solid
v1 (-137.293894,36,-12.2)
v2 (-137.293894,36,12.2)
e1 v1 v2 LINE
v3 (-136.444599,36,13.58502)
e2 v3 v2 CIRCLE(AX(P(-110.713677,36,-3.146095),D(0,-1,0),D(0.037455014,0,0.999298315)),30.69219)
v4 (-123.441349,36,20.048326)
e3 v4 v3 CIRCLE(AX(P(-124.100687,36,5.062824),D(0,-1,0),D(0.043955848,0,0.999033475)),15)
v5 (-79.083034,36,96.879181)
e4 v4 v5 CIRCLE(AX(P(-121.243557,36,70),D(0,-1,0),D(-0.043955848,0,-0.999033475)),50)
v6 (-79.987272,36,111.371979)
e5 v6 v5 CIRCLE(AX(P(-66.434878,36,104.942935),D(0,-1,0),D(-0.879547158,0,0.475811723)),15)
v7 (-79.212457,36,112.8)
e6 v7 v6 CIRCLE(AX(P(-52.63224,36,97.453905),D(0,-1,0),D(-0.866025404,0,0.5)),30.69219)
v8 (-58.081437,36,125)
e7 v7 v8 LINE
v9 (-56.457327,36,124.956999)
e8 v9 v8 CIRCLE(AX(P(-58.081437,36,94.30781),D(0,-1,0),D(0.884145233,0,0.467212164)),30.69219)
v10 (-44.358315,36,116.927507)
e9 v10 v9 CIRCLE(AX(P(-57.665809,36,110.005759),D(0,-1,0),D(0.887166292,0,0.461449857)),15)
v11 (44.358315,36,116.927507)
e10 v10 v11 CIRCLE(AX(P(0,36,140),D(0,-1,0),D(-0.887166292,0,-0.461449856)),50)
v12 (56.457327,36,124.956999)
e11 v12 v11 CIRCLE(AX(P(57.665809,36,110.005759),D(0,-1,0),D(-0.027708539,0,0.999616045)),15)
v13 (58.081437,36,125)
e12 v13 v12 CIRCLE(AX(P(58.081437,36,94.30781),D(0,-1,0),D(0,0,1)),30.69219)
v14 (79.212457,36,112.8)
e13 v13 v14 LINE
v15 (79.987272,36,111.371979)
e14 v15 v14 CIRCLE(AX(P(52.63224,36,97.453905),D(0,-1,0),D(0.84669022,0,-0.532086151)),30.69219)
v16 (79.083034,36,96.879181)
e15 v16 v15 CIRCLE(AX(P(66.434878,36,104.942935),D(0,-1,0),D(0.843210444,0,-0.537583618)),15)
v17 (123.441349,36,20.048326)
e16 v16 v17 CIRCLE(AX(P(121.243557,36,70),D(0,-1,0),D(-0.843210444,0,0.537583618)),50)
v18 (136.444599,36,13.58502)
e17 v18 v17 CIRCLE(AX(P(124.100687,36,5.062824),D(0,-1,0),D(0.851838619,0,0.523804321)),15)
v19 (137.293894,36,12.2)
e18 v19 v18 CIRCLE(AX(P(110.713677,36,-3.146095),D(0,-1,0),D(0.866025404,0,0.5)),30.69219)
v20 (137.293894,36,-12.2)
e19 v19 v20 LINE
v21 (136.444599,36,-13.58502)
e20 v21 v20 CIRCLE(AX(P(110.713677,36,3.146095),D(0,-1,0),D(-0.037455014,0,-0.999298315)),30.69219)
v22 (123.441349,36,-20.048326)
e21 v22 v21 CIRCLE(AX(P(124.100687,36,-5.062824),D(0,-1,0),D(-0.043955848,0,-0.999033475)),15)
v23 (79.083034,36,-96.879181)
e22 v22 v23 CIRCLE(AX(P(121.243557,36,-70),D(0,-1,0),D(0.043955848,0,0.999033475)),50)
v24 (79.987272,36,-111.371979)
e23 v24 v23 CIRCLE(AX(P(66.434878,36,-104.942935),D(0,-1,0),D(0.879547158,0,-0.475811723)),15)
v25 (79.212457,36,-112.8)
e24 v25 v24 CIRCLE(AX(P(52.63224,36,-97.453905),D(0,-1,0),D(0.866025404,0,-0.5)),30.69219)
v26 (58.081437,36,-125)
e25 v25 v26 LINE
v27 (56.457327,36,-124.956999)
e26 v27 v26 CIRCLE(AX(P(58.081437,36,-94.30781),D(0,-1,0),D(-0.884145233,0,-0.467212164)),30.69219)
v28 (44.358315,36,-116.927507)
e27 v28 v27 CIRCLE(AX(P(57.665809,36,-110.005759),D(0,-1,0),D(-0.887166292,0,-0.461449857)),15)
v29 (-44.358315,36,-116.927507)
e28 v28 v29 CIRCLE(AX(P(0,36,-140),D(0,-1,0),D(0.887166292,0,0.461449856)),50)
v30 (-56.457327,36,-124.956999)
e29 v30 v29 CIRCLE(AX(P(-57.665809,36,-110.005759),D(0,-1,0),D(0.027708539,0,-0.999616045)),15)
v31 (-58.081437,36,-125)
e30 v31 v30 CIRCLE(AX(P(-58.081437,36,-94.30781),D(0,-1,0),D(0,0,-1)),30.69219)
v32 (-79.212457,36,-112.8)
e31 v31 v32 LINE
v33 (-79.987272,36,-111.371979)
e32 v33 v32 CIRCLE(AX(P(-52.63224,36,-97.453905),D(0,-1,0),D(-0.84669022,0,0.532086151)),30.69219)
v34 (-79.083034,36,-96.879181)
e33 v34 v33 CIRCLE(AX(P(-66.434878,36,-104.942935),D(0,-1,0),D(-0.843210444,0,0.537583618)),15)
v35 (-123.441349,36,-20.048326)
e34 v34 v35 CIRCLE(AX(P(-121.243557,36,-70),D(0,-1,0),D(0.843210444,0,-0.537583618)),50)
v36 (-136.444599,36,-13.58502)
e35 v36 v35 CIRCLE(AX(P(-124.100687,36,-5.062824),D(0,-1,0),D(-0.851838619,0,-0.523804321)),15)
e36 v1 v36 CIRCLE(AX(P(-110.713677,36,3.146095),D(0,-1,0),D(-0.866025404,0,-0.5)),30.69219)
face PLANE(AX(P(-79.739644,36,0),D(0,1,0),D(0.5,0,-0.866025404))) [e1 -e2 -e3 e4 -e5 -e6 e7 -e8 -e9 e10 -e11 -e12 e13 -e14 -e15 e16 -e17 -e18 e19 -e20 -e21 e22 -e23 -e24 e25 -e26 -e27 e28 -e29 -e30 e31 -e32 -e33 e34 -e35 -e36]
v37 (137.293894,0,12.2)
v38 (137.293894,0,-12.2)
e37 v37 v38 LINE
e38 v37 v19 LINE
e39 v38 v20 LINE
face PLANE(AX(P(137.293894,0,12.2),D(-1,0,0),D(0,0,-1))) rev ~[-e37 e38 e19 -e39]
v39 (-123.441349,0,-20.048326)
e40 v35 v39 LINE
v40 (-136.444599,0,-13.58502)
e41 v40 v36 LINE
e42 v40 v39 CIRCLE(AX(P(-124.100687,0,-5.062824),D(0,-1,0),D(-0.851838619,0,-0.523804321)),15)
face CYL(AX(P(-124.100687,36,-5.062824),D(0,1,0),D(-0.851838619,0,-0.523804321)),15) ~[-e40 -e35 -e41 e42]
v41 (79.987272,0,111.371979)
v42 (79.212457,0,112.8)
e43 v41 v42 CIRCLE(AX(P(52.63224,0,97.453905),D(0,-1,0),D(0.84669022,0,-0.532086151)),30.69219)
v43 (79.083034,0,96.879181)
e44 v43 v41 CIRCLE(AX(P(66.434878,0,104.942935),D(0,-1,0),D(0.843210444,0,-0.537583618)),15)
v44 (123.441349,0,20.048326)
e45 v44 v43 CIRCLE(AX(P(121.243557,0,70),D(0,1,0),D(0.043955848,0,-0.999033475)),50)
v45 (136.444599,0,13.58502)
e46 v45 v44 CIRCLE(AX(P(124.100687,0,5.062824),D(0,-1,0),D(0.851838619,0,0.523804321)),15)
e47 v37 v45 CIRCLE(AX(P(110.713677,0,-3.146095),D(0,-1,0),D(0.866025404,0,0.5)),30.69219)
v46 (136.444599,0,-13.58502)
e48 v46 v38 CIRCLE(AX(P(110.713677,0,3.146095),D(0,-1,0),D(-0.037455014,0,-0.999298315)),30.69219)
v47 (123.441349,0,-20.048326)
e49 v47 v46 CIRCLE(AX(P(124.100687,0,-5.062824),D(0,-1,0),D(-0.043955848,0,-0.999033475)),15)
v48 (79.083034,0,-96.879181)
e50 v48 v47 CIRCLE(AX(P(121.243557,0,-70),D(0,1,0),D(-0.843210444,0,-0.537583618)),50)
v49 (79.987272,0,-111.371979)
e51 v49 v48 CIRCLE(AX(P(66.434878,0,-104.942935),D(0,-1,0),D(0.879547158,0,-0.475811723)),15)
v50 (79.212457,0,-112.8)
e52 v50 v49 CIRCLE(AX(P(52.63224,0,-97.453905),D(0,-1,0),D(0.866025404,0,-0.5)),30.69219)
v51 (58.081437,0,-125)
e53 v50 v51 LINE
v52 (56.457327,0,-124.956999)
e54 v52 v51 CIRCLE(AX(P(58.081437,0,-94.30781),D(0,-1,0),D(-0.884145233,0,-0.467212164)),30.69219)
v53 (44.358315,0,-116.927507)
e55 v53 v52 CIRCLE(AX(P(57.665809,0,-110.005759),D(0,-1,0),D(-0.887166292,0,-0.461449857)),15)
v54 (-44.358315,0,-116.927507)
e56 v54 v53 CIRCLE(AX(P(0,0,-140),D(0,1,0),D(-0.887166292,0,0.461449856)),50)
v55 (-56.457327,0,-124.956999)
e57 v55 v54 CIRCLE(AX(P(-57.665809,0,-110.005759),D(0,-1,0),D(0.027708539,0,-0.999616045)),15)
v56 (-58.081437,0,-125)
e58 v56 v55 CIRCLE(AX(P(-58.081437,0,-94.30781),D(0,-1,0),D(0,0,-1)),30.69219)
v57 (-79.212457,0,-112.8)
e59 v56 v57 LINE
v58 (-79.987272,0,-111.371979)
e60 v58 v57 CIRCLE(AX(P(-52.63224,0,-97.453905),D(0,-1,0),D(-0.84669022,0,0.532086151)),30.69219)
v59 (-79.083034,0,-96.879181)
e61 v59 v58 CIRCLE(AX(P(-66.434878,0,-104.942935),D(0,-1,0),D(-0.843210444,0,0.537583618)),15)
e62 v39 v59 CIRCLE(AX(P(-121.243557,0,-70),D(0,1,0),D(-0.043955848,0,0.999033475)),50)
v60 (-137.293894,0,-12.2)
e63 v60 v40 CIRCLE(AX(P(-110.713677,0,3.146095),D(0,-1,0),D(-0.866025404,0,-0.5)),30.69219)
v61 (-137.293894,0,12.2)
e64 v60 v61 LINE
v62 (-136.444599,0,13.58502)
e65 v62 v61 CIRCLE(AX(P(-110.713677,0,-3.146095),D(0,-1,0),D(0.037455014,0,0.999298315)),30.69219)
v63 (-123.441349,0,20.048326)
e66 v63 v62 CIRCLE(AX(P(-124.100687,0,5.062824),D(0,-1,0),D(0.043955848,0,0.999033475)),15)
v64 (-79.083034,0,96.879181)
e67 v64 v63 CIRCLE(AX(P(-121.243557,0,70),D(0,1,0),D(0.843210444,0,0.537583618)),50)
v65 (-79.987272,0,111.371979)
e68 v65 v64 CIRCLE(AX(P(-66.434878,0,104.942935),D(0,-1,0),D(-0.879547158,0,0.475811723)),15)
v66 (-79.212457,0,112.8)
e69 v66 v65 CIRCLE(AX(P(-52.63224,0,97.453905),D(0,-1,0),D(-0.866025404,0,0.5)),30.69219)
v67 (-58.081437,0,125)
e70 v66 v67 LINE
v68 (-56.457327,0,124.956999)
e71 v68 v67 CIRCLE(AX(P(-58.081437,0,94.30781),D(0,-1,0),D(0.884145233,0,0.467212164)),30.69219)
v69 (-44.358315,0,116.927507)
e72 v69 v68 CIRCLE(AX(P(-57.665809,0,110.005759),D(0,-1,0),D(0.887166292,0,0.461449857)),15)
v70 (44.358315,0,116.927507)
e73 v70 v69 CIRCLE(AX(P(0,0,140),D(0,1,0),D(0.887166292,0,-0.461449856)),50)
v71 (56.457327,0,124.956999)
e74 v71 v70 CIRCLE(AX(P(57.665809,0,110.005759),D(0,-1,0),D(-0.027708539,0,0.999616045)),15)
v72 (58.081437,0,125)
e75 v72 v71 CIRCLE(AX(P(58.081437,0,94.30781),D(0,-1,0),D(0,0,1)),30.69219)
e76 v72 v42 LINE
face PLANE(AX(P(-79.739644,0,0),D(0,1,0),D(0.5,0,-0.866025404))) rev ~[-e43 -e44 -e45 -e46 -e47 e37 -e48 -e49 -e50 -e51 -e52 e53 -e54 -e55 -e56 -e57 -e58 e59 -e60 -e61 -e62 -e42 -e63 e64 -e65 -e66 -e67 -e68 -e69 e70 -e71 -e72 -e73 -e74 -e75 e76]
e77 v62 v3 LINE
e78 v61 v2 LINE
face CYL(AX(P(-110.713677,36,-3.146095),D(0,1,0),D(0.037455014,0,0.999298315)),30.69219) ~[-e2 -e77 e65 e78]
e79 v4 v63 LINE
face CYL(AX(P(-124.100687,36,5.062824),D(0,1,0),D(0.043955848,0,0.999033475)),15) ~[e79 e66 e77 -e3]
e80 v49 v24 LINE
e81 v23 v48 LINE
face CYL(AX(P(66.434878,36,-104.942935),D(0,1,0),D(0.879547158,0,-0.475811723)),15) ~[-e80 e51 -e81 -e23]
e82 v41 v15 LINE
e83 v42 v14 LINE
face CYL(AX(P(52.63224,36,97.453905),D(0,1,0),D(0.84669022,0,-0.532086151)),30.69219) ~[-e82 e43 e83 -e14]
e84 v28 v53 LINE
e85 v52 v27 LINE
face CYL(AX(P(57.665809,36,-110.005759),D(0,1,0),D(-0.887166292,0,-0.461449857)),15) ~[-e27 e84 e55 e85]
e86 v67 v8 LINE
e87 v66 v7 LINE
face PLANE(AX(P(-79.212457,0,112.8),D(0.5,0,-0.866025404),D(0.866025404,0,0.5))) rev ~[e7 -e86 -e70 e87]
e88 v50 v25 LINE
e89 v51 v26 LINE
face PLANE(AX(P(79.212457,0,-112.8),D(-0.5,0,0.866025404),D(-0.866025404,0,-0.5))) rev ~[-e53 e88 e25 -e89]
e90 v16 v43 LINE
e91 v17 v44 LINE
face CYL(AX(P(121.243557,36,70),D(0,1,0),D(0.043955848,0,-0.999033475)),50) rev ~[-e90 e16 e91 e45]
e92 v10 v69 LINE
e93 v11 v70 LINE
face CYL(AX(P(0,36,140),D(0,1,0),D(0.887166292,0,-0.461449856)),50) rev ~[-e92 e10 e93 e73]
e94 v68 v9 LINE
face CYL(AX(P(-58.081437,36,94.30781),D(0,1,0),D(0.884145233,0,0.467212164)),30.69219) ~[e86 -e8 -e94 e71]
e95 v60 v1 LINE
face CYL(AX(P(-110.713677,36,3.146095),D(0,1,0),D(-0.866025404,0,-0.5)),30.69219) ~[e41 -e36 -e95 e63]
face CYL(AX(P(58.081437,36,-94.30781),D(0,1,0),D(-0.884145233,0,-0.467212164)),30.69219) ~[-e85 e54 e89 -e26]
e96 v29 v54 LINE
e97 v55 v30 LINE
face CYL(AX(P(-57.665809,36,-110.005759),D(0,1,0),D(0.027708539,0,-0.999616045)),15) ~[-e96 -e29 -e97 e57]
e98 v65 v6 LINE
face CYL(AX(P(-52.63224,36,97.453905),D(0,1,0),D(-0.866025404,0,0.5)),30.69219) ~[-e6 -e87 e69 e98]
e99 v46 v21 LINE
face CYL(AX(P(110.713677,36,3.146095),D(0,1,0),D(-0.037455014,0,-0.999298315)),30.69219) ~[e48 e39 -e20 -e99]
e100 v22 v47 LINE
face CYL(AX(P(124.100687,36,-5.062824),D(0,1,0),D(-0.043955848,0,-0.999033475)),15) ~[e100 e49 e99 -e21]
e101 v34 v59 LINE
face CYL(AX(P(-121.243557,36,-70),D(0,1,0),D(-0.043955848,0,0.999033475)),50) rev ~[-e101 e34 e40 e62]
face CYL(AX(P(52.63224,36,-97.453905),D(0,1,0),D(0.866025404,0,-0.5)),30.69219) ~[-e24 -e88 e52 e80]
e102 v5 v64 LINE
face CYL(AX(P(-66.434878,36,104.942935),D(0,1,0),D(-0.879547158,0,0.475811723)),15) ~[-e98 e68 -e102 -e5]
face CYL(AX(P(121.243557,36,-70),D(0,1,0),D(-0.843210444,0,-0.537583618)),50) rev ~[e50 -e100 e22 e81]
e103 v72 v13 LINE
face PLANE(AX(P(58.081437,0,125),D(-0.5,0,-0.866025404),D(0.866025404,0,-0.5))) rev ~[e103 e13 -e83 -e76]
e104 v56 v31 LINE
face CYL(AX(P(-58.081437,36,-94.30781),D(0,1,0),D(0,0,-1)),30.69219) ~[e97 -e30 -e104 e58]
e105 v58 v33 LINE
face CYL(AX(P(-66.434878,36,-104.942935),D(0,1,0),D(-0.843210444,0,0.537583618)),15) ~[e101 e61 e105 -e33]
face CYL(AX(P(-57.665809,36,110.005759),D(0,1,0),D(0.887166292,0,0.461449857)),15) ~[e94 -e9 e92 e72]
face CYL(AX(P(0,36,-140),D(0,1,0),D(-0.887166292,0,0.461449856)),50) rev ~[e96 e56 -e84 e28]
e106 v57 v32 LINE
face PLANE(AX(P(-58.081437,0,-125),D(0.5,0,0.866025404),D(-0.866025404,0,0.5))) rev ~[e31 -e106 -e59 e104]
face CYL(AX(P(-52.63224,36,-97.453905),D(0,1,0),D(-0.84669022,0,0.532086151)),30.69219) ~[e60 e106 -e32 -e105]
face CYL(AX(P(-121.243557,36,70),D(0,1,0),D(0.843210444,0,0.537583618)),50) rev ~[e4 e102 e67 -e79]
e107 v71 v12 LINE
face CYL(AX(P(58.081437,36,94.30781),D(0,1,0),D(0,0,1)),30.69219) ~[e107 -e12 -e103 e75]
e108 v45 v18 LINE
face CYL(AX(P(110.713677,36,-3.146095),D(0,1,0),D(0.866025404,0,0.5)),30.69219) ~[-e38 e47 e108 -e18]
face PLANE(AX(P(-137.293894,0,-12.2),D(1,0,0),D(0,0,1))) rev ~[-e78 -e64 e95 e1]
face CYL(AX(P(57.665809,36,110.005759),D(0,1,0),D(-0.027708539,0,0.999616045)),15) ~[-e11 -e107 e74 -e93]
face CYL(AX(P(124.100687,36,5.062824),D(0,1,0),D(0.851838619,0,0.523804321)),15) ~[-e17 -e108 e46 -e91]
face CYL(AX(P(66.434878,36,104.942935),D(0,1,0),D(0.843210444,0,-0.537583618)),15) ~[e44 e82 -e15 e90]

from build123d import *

# Parameters (mm, degrees)
BOSS_EXTRUDE1_DEPTH = 36
CIRPATTERN1_COUNT   = 6
CUT_EXTRUDE3_DEPTH  = 36
CUT_EXTRUDE9_DEPTH  = 36


with BuildPart() as part:
    # Sketch2 → Boss-Extrude1 (new body)
    with BuildSketch(Plane(origin=(0, 0, 0), x_dir=(1, 0, 0), z_dir=(0, 1, 0))):
        Polygon((0, 125), (-58.08143708, 125), (-79.212456933, 112.8), (-108.253175473, 62.5), (0, 0), align=None)
    boss_extrude1 = extrude(amount=BOSS_EXTRUDE1_DEPTH)

    # CirPattern1: Boss-Extrude1 ×6 about axis
    cirpattern1_axis = Axis((0, 36, 0), (0, -1, 0))
    for i in range(1, CIRPATTERN1_COUNT):
        add(boss_extrude1.rotate(cirpattern1_axis, i * 360 / CIRPATTERN1_COUNT))

    # Sketch4 → Cut-Extrude3 (cut)
    with BuildSketch(Plane(origin=(0, 36, 0), x_dir=(1, 0, 0), z_dir=(0, 1, 0))):
        with BuildLine():
            Line((79.212456933, -112.8), (137.293894013, -12.2))
            ThreePointArc((137.293894013, -12.2), (125.5592118, -23.716902798), (109.56410095, -27.524558982))
            ThreePointArc((109.56410095, -27.524558982), (77.942286341, -45), (78.619017782, -81.123015275))
            ThreePointArc((78.619017782, -81.123015275), (83.319046223, -96.879015699), (79.212456933, -112.8))
        make_face()
        with BuildLine():
            Line((137.293894013, 12.2), (79.212456933, 112.8))
            ThreePointArc((79.212456933, 112.8), (83.319046223, 96.879015699), (78.619017782, 81.123015275))
            ThreePointArc((78.619017782, 81.123015275), (77.942286341, 45), (109.56410095, 27.524558982))
            ThreePointArc((109.56410095, 27.524558982), (125.5592118, 23.716902798), (137.293894013, 12.2))
        make_face()
        with BuildLine():
            Line((58.08143708, 125), (-58.08143708, 125))
            ThreePointArc((-58.08143708, 125), (-42.240165578, 120.595918497), (-30.945083169, 108.647574257))
            ThreePointArc((-30.945083169, 108.647574257), (0, 90), (30.945083169, 108.647574257))
            ThreePointArc((30.945083169, 108.647574257), (42.240165578, 120.595918497), (58.08143708, 125))
        make_face()
        with BuildLine():
            Line((-79.212456933, 112.8), (-137.293894013, 12.2))
            ThreePointArc((-137.293894013, 12.2), (-125.5592118, 23.716902798), (-109.56410095, 27.524558982))
            ThreePointArc((-109.56410095, 27.524558982), (-77.942286341, 45), (-78.619017782, 81.123015275))
            ThreePointArc((-78.619017782, 81.123015275), (-83.319046223, 96.879015699), (-79.212456933, 112.8))
        make_face()
        with BuildLine():
            Line((-137.293894013, -12.2), (-79.212456933, -112.8))
            ThreePointArc((-79.212456933, -112.8), (-83.319046223, -96.879015699), (-78.619017782, -81.123015275))
            ThreePointArc((-78.619017782, -81.123015275), (-77.942286341, -45), (-109.56410095, -27.524558982))
            ThreePointArc((-109.56410095, -27.524558982), (-125.5592118, -23.716902798), (-137.293894013, -12.2))
        make_face()
        with BuildLine():
            Line((-58.08143708, -125), (58.08143708, -125))
            ThreePointArc((58.08143708, -125), (42.240165578, -120.595918497), (30.945083169, -108.647574257))
            ThreePointArc((30.945083169, -108.647574257), (0, -90), (-30.945083169, -108.647574257))
            ThreePointArc((-30.945083169, -108.647574257), (-42.240165578, -120.595918497), (-58.08143708, -125))
        make_face()
    extrude(amount=-CUT_EXTRUDE3_DEPTH, mode=Mode.SUBTRACT)

    # Sketch9 → Cut-Extrude9 (cut)
    with BuildSketch(Plane(origin=(0, 36, 0), x_dir=(1, 0, 0), z_dir=(0, 1, 0))):
        with BuildLine():
            Line((57.250180902, 125), (-57.250180902, 125))
            ThreePointArc((-57.250180902, 125), (-49.705136426, 122.71904735), (-44.358314608, 116.927507176))
            ThreePointArc((-44.358314608, 116.927507176), (0, 90), (44.358314608, 116.927507176))
            ThreePointArc((44.358314608, 116.927507176), (49.705136426, 122.71904735), (57.250180902, 125))
        make_face()
        with BuildLine():
            Line((136.878265924, 12.919888968), (79.628085022, 112.080111032))
            ThreePointArc((79.628085022, 112.080111032), (81.425244321, 104.405434518), (79.083034312, 96.879180908))
            ThreePointArc((79.083034312, 96.879180908), (77.942286341, 45), (123.44134892, 20.048326268))
            ThreePointArc((123.44134892, 20.048326268), (131.130380747, 18.313612832), (136.878265924, 12.919888968))
        make_face()
        with BuildLine():
            Line((79.628085022, -112.080111032), (136.878265924, -12.919888968))
            ThreePointArc((136.878265924, -12.919888968), (131.130380747, -18.313612832), (123.44134892, -20.048326268))
            ThreePointArc((123.44134892, -20.048326268), (77.942286341, -45), (79.083034312, -96.879180908))
            ThreePointArc((79.083034312, -96.879180908), (81.425244321, -104.405434518), (79.628085022, -112.080111032))
        make_face()
        with BuildLine():
            Line((-57.250180902, -125), (57.250180902, -125))
            ThreePointArc((57.250180902, -125), (49.705136426, -122.71904735), (44.358314608, -116.927507176))
            ThreePointArc((44.358314608, -116.927507176), (0, -90), (-44.358314608, -116.927507176))
            ThreePointArc((-44.358314608, -116.927507176), (-49.705136426, -122.71904735), (-57.250180902, -125))
        make_face()
        with BuildLine():
            Line((-136.878265924, -12.919888968), (-79.628085022, -112.080111032))
            ThreePointArc((-79.628085022, -112.080111032), (-81.425244321, -104.405434518), (-79.083034312, -96.879180908))
            ThreePointArc((-79.083034312, -96.879180908), (-77.942286341, -45), (-123.44134892, -20.048326268))
            ThreePointArc((-123.44134892, -20.048326268), (-131.130380747, -18.313612832), (-136.878265924, -12.919888968))
        make_face()
        with BuildLine():
            Line((-79.628085022, 112.080111032), (-136.878265924, 12.919888968))
            ThreePointArc((-136.878265924, 12.919888968), (-131.130380747, 18.313612832), (-123.44134892, 20.048326268))
            ThreePointArc((-123.44134892, 20.048326268), (-77.942286341, 45), (-79.083034312, 96.879180908))
            ThreePointArc((-79.083034312, 96.879180908), (-81.425244321, 104.405434518), (-79.628085022, 112.080111032))
        make_face()
    extrude(amount=-CUT_EXTRUDE9_DEPTH, mode=Mode.SUBTRACT)


solid = part.part
